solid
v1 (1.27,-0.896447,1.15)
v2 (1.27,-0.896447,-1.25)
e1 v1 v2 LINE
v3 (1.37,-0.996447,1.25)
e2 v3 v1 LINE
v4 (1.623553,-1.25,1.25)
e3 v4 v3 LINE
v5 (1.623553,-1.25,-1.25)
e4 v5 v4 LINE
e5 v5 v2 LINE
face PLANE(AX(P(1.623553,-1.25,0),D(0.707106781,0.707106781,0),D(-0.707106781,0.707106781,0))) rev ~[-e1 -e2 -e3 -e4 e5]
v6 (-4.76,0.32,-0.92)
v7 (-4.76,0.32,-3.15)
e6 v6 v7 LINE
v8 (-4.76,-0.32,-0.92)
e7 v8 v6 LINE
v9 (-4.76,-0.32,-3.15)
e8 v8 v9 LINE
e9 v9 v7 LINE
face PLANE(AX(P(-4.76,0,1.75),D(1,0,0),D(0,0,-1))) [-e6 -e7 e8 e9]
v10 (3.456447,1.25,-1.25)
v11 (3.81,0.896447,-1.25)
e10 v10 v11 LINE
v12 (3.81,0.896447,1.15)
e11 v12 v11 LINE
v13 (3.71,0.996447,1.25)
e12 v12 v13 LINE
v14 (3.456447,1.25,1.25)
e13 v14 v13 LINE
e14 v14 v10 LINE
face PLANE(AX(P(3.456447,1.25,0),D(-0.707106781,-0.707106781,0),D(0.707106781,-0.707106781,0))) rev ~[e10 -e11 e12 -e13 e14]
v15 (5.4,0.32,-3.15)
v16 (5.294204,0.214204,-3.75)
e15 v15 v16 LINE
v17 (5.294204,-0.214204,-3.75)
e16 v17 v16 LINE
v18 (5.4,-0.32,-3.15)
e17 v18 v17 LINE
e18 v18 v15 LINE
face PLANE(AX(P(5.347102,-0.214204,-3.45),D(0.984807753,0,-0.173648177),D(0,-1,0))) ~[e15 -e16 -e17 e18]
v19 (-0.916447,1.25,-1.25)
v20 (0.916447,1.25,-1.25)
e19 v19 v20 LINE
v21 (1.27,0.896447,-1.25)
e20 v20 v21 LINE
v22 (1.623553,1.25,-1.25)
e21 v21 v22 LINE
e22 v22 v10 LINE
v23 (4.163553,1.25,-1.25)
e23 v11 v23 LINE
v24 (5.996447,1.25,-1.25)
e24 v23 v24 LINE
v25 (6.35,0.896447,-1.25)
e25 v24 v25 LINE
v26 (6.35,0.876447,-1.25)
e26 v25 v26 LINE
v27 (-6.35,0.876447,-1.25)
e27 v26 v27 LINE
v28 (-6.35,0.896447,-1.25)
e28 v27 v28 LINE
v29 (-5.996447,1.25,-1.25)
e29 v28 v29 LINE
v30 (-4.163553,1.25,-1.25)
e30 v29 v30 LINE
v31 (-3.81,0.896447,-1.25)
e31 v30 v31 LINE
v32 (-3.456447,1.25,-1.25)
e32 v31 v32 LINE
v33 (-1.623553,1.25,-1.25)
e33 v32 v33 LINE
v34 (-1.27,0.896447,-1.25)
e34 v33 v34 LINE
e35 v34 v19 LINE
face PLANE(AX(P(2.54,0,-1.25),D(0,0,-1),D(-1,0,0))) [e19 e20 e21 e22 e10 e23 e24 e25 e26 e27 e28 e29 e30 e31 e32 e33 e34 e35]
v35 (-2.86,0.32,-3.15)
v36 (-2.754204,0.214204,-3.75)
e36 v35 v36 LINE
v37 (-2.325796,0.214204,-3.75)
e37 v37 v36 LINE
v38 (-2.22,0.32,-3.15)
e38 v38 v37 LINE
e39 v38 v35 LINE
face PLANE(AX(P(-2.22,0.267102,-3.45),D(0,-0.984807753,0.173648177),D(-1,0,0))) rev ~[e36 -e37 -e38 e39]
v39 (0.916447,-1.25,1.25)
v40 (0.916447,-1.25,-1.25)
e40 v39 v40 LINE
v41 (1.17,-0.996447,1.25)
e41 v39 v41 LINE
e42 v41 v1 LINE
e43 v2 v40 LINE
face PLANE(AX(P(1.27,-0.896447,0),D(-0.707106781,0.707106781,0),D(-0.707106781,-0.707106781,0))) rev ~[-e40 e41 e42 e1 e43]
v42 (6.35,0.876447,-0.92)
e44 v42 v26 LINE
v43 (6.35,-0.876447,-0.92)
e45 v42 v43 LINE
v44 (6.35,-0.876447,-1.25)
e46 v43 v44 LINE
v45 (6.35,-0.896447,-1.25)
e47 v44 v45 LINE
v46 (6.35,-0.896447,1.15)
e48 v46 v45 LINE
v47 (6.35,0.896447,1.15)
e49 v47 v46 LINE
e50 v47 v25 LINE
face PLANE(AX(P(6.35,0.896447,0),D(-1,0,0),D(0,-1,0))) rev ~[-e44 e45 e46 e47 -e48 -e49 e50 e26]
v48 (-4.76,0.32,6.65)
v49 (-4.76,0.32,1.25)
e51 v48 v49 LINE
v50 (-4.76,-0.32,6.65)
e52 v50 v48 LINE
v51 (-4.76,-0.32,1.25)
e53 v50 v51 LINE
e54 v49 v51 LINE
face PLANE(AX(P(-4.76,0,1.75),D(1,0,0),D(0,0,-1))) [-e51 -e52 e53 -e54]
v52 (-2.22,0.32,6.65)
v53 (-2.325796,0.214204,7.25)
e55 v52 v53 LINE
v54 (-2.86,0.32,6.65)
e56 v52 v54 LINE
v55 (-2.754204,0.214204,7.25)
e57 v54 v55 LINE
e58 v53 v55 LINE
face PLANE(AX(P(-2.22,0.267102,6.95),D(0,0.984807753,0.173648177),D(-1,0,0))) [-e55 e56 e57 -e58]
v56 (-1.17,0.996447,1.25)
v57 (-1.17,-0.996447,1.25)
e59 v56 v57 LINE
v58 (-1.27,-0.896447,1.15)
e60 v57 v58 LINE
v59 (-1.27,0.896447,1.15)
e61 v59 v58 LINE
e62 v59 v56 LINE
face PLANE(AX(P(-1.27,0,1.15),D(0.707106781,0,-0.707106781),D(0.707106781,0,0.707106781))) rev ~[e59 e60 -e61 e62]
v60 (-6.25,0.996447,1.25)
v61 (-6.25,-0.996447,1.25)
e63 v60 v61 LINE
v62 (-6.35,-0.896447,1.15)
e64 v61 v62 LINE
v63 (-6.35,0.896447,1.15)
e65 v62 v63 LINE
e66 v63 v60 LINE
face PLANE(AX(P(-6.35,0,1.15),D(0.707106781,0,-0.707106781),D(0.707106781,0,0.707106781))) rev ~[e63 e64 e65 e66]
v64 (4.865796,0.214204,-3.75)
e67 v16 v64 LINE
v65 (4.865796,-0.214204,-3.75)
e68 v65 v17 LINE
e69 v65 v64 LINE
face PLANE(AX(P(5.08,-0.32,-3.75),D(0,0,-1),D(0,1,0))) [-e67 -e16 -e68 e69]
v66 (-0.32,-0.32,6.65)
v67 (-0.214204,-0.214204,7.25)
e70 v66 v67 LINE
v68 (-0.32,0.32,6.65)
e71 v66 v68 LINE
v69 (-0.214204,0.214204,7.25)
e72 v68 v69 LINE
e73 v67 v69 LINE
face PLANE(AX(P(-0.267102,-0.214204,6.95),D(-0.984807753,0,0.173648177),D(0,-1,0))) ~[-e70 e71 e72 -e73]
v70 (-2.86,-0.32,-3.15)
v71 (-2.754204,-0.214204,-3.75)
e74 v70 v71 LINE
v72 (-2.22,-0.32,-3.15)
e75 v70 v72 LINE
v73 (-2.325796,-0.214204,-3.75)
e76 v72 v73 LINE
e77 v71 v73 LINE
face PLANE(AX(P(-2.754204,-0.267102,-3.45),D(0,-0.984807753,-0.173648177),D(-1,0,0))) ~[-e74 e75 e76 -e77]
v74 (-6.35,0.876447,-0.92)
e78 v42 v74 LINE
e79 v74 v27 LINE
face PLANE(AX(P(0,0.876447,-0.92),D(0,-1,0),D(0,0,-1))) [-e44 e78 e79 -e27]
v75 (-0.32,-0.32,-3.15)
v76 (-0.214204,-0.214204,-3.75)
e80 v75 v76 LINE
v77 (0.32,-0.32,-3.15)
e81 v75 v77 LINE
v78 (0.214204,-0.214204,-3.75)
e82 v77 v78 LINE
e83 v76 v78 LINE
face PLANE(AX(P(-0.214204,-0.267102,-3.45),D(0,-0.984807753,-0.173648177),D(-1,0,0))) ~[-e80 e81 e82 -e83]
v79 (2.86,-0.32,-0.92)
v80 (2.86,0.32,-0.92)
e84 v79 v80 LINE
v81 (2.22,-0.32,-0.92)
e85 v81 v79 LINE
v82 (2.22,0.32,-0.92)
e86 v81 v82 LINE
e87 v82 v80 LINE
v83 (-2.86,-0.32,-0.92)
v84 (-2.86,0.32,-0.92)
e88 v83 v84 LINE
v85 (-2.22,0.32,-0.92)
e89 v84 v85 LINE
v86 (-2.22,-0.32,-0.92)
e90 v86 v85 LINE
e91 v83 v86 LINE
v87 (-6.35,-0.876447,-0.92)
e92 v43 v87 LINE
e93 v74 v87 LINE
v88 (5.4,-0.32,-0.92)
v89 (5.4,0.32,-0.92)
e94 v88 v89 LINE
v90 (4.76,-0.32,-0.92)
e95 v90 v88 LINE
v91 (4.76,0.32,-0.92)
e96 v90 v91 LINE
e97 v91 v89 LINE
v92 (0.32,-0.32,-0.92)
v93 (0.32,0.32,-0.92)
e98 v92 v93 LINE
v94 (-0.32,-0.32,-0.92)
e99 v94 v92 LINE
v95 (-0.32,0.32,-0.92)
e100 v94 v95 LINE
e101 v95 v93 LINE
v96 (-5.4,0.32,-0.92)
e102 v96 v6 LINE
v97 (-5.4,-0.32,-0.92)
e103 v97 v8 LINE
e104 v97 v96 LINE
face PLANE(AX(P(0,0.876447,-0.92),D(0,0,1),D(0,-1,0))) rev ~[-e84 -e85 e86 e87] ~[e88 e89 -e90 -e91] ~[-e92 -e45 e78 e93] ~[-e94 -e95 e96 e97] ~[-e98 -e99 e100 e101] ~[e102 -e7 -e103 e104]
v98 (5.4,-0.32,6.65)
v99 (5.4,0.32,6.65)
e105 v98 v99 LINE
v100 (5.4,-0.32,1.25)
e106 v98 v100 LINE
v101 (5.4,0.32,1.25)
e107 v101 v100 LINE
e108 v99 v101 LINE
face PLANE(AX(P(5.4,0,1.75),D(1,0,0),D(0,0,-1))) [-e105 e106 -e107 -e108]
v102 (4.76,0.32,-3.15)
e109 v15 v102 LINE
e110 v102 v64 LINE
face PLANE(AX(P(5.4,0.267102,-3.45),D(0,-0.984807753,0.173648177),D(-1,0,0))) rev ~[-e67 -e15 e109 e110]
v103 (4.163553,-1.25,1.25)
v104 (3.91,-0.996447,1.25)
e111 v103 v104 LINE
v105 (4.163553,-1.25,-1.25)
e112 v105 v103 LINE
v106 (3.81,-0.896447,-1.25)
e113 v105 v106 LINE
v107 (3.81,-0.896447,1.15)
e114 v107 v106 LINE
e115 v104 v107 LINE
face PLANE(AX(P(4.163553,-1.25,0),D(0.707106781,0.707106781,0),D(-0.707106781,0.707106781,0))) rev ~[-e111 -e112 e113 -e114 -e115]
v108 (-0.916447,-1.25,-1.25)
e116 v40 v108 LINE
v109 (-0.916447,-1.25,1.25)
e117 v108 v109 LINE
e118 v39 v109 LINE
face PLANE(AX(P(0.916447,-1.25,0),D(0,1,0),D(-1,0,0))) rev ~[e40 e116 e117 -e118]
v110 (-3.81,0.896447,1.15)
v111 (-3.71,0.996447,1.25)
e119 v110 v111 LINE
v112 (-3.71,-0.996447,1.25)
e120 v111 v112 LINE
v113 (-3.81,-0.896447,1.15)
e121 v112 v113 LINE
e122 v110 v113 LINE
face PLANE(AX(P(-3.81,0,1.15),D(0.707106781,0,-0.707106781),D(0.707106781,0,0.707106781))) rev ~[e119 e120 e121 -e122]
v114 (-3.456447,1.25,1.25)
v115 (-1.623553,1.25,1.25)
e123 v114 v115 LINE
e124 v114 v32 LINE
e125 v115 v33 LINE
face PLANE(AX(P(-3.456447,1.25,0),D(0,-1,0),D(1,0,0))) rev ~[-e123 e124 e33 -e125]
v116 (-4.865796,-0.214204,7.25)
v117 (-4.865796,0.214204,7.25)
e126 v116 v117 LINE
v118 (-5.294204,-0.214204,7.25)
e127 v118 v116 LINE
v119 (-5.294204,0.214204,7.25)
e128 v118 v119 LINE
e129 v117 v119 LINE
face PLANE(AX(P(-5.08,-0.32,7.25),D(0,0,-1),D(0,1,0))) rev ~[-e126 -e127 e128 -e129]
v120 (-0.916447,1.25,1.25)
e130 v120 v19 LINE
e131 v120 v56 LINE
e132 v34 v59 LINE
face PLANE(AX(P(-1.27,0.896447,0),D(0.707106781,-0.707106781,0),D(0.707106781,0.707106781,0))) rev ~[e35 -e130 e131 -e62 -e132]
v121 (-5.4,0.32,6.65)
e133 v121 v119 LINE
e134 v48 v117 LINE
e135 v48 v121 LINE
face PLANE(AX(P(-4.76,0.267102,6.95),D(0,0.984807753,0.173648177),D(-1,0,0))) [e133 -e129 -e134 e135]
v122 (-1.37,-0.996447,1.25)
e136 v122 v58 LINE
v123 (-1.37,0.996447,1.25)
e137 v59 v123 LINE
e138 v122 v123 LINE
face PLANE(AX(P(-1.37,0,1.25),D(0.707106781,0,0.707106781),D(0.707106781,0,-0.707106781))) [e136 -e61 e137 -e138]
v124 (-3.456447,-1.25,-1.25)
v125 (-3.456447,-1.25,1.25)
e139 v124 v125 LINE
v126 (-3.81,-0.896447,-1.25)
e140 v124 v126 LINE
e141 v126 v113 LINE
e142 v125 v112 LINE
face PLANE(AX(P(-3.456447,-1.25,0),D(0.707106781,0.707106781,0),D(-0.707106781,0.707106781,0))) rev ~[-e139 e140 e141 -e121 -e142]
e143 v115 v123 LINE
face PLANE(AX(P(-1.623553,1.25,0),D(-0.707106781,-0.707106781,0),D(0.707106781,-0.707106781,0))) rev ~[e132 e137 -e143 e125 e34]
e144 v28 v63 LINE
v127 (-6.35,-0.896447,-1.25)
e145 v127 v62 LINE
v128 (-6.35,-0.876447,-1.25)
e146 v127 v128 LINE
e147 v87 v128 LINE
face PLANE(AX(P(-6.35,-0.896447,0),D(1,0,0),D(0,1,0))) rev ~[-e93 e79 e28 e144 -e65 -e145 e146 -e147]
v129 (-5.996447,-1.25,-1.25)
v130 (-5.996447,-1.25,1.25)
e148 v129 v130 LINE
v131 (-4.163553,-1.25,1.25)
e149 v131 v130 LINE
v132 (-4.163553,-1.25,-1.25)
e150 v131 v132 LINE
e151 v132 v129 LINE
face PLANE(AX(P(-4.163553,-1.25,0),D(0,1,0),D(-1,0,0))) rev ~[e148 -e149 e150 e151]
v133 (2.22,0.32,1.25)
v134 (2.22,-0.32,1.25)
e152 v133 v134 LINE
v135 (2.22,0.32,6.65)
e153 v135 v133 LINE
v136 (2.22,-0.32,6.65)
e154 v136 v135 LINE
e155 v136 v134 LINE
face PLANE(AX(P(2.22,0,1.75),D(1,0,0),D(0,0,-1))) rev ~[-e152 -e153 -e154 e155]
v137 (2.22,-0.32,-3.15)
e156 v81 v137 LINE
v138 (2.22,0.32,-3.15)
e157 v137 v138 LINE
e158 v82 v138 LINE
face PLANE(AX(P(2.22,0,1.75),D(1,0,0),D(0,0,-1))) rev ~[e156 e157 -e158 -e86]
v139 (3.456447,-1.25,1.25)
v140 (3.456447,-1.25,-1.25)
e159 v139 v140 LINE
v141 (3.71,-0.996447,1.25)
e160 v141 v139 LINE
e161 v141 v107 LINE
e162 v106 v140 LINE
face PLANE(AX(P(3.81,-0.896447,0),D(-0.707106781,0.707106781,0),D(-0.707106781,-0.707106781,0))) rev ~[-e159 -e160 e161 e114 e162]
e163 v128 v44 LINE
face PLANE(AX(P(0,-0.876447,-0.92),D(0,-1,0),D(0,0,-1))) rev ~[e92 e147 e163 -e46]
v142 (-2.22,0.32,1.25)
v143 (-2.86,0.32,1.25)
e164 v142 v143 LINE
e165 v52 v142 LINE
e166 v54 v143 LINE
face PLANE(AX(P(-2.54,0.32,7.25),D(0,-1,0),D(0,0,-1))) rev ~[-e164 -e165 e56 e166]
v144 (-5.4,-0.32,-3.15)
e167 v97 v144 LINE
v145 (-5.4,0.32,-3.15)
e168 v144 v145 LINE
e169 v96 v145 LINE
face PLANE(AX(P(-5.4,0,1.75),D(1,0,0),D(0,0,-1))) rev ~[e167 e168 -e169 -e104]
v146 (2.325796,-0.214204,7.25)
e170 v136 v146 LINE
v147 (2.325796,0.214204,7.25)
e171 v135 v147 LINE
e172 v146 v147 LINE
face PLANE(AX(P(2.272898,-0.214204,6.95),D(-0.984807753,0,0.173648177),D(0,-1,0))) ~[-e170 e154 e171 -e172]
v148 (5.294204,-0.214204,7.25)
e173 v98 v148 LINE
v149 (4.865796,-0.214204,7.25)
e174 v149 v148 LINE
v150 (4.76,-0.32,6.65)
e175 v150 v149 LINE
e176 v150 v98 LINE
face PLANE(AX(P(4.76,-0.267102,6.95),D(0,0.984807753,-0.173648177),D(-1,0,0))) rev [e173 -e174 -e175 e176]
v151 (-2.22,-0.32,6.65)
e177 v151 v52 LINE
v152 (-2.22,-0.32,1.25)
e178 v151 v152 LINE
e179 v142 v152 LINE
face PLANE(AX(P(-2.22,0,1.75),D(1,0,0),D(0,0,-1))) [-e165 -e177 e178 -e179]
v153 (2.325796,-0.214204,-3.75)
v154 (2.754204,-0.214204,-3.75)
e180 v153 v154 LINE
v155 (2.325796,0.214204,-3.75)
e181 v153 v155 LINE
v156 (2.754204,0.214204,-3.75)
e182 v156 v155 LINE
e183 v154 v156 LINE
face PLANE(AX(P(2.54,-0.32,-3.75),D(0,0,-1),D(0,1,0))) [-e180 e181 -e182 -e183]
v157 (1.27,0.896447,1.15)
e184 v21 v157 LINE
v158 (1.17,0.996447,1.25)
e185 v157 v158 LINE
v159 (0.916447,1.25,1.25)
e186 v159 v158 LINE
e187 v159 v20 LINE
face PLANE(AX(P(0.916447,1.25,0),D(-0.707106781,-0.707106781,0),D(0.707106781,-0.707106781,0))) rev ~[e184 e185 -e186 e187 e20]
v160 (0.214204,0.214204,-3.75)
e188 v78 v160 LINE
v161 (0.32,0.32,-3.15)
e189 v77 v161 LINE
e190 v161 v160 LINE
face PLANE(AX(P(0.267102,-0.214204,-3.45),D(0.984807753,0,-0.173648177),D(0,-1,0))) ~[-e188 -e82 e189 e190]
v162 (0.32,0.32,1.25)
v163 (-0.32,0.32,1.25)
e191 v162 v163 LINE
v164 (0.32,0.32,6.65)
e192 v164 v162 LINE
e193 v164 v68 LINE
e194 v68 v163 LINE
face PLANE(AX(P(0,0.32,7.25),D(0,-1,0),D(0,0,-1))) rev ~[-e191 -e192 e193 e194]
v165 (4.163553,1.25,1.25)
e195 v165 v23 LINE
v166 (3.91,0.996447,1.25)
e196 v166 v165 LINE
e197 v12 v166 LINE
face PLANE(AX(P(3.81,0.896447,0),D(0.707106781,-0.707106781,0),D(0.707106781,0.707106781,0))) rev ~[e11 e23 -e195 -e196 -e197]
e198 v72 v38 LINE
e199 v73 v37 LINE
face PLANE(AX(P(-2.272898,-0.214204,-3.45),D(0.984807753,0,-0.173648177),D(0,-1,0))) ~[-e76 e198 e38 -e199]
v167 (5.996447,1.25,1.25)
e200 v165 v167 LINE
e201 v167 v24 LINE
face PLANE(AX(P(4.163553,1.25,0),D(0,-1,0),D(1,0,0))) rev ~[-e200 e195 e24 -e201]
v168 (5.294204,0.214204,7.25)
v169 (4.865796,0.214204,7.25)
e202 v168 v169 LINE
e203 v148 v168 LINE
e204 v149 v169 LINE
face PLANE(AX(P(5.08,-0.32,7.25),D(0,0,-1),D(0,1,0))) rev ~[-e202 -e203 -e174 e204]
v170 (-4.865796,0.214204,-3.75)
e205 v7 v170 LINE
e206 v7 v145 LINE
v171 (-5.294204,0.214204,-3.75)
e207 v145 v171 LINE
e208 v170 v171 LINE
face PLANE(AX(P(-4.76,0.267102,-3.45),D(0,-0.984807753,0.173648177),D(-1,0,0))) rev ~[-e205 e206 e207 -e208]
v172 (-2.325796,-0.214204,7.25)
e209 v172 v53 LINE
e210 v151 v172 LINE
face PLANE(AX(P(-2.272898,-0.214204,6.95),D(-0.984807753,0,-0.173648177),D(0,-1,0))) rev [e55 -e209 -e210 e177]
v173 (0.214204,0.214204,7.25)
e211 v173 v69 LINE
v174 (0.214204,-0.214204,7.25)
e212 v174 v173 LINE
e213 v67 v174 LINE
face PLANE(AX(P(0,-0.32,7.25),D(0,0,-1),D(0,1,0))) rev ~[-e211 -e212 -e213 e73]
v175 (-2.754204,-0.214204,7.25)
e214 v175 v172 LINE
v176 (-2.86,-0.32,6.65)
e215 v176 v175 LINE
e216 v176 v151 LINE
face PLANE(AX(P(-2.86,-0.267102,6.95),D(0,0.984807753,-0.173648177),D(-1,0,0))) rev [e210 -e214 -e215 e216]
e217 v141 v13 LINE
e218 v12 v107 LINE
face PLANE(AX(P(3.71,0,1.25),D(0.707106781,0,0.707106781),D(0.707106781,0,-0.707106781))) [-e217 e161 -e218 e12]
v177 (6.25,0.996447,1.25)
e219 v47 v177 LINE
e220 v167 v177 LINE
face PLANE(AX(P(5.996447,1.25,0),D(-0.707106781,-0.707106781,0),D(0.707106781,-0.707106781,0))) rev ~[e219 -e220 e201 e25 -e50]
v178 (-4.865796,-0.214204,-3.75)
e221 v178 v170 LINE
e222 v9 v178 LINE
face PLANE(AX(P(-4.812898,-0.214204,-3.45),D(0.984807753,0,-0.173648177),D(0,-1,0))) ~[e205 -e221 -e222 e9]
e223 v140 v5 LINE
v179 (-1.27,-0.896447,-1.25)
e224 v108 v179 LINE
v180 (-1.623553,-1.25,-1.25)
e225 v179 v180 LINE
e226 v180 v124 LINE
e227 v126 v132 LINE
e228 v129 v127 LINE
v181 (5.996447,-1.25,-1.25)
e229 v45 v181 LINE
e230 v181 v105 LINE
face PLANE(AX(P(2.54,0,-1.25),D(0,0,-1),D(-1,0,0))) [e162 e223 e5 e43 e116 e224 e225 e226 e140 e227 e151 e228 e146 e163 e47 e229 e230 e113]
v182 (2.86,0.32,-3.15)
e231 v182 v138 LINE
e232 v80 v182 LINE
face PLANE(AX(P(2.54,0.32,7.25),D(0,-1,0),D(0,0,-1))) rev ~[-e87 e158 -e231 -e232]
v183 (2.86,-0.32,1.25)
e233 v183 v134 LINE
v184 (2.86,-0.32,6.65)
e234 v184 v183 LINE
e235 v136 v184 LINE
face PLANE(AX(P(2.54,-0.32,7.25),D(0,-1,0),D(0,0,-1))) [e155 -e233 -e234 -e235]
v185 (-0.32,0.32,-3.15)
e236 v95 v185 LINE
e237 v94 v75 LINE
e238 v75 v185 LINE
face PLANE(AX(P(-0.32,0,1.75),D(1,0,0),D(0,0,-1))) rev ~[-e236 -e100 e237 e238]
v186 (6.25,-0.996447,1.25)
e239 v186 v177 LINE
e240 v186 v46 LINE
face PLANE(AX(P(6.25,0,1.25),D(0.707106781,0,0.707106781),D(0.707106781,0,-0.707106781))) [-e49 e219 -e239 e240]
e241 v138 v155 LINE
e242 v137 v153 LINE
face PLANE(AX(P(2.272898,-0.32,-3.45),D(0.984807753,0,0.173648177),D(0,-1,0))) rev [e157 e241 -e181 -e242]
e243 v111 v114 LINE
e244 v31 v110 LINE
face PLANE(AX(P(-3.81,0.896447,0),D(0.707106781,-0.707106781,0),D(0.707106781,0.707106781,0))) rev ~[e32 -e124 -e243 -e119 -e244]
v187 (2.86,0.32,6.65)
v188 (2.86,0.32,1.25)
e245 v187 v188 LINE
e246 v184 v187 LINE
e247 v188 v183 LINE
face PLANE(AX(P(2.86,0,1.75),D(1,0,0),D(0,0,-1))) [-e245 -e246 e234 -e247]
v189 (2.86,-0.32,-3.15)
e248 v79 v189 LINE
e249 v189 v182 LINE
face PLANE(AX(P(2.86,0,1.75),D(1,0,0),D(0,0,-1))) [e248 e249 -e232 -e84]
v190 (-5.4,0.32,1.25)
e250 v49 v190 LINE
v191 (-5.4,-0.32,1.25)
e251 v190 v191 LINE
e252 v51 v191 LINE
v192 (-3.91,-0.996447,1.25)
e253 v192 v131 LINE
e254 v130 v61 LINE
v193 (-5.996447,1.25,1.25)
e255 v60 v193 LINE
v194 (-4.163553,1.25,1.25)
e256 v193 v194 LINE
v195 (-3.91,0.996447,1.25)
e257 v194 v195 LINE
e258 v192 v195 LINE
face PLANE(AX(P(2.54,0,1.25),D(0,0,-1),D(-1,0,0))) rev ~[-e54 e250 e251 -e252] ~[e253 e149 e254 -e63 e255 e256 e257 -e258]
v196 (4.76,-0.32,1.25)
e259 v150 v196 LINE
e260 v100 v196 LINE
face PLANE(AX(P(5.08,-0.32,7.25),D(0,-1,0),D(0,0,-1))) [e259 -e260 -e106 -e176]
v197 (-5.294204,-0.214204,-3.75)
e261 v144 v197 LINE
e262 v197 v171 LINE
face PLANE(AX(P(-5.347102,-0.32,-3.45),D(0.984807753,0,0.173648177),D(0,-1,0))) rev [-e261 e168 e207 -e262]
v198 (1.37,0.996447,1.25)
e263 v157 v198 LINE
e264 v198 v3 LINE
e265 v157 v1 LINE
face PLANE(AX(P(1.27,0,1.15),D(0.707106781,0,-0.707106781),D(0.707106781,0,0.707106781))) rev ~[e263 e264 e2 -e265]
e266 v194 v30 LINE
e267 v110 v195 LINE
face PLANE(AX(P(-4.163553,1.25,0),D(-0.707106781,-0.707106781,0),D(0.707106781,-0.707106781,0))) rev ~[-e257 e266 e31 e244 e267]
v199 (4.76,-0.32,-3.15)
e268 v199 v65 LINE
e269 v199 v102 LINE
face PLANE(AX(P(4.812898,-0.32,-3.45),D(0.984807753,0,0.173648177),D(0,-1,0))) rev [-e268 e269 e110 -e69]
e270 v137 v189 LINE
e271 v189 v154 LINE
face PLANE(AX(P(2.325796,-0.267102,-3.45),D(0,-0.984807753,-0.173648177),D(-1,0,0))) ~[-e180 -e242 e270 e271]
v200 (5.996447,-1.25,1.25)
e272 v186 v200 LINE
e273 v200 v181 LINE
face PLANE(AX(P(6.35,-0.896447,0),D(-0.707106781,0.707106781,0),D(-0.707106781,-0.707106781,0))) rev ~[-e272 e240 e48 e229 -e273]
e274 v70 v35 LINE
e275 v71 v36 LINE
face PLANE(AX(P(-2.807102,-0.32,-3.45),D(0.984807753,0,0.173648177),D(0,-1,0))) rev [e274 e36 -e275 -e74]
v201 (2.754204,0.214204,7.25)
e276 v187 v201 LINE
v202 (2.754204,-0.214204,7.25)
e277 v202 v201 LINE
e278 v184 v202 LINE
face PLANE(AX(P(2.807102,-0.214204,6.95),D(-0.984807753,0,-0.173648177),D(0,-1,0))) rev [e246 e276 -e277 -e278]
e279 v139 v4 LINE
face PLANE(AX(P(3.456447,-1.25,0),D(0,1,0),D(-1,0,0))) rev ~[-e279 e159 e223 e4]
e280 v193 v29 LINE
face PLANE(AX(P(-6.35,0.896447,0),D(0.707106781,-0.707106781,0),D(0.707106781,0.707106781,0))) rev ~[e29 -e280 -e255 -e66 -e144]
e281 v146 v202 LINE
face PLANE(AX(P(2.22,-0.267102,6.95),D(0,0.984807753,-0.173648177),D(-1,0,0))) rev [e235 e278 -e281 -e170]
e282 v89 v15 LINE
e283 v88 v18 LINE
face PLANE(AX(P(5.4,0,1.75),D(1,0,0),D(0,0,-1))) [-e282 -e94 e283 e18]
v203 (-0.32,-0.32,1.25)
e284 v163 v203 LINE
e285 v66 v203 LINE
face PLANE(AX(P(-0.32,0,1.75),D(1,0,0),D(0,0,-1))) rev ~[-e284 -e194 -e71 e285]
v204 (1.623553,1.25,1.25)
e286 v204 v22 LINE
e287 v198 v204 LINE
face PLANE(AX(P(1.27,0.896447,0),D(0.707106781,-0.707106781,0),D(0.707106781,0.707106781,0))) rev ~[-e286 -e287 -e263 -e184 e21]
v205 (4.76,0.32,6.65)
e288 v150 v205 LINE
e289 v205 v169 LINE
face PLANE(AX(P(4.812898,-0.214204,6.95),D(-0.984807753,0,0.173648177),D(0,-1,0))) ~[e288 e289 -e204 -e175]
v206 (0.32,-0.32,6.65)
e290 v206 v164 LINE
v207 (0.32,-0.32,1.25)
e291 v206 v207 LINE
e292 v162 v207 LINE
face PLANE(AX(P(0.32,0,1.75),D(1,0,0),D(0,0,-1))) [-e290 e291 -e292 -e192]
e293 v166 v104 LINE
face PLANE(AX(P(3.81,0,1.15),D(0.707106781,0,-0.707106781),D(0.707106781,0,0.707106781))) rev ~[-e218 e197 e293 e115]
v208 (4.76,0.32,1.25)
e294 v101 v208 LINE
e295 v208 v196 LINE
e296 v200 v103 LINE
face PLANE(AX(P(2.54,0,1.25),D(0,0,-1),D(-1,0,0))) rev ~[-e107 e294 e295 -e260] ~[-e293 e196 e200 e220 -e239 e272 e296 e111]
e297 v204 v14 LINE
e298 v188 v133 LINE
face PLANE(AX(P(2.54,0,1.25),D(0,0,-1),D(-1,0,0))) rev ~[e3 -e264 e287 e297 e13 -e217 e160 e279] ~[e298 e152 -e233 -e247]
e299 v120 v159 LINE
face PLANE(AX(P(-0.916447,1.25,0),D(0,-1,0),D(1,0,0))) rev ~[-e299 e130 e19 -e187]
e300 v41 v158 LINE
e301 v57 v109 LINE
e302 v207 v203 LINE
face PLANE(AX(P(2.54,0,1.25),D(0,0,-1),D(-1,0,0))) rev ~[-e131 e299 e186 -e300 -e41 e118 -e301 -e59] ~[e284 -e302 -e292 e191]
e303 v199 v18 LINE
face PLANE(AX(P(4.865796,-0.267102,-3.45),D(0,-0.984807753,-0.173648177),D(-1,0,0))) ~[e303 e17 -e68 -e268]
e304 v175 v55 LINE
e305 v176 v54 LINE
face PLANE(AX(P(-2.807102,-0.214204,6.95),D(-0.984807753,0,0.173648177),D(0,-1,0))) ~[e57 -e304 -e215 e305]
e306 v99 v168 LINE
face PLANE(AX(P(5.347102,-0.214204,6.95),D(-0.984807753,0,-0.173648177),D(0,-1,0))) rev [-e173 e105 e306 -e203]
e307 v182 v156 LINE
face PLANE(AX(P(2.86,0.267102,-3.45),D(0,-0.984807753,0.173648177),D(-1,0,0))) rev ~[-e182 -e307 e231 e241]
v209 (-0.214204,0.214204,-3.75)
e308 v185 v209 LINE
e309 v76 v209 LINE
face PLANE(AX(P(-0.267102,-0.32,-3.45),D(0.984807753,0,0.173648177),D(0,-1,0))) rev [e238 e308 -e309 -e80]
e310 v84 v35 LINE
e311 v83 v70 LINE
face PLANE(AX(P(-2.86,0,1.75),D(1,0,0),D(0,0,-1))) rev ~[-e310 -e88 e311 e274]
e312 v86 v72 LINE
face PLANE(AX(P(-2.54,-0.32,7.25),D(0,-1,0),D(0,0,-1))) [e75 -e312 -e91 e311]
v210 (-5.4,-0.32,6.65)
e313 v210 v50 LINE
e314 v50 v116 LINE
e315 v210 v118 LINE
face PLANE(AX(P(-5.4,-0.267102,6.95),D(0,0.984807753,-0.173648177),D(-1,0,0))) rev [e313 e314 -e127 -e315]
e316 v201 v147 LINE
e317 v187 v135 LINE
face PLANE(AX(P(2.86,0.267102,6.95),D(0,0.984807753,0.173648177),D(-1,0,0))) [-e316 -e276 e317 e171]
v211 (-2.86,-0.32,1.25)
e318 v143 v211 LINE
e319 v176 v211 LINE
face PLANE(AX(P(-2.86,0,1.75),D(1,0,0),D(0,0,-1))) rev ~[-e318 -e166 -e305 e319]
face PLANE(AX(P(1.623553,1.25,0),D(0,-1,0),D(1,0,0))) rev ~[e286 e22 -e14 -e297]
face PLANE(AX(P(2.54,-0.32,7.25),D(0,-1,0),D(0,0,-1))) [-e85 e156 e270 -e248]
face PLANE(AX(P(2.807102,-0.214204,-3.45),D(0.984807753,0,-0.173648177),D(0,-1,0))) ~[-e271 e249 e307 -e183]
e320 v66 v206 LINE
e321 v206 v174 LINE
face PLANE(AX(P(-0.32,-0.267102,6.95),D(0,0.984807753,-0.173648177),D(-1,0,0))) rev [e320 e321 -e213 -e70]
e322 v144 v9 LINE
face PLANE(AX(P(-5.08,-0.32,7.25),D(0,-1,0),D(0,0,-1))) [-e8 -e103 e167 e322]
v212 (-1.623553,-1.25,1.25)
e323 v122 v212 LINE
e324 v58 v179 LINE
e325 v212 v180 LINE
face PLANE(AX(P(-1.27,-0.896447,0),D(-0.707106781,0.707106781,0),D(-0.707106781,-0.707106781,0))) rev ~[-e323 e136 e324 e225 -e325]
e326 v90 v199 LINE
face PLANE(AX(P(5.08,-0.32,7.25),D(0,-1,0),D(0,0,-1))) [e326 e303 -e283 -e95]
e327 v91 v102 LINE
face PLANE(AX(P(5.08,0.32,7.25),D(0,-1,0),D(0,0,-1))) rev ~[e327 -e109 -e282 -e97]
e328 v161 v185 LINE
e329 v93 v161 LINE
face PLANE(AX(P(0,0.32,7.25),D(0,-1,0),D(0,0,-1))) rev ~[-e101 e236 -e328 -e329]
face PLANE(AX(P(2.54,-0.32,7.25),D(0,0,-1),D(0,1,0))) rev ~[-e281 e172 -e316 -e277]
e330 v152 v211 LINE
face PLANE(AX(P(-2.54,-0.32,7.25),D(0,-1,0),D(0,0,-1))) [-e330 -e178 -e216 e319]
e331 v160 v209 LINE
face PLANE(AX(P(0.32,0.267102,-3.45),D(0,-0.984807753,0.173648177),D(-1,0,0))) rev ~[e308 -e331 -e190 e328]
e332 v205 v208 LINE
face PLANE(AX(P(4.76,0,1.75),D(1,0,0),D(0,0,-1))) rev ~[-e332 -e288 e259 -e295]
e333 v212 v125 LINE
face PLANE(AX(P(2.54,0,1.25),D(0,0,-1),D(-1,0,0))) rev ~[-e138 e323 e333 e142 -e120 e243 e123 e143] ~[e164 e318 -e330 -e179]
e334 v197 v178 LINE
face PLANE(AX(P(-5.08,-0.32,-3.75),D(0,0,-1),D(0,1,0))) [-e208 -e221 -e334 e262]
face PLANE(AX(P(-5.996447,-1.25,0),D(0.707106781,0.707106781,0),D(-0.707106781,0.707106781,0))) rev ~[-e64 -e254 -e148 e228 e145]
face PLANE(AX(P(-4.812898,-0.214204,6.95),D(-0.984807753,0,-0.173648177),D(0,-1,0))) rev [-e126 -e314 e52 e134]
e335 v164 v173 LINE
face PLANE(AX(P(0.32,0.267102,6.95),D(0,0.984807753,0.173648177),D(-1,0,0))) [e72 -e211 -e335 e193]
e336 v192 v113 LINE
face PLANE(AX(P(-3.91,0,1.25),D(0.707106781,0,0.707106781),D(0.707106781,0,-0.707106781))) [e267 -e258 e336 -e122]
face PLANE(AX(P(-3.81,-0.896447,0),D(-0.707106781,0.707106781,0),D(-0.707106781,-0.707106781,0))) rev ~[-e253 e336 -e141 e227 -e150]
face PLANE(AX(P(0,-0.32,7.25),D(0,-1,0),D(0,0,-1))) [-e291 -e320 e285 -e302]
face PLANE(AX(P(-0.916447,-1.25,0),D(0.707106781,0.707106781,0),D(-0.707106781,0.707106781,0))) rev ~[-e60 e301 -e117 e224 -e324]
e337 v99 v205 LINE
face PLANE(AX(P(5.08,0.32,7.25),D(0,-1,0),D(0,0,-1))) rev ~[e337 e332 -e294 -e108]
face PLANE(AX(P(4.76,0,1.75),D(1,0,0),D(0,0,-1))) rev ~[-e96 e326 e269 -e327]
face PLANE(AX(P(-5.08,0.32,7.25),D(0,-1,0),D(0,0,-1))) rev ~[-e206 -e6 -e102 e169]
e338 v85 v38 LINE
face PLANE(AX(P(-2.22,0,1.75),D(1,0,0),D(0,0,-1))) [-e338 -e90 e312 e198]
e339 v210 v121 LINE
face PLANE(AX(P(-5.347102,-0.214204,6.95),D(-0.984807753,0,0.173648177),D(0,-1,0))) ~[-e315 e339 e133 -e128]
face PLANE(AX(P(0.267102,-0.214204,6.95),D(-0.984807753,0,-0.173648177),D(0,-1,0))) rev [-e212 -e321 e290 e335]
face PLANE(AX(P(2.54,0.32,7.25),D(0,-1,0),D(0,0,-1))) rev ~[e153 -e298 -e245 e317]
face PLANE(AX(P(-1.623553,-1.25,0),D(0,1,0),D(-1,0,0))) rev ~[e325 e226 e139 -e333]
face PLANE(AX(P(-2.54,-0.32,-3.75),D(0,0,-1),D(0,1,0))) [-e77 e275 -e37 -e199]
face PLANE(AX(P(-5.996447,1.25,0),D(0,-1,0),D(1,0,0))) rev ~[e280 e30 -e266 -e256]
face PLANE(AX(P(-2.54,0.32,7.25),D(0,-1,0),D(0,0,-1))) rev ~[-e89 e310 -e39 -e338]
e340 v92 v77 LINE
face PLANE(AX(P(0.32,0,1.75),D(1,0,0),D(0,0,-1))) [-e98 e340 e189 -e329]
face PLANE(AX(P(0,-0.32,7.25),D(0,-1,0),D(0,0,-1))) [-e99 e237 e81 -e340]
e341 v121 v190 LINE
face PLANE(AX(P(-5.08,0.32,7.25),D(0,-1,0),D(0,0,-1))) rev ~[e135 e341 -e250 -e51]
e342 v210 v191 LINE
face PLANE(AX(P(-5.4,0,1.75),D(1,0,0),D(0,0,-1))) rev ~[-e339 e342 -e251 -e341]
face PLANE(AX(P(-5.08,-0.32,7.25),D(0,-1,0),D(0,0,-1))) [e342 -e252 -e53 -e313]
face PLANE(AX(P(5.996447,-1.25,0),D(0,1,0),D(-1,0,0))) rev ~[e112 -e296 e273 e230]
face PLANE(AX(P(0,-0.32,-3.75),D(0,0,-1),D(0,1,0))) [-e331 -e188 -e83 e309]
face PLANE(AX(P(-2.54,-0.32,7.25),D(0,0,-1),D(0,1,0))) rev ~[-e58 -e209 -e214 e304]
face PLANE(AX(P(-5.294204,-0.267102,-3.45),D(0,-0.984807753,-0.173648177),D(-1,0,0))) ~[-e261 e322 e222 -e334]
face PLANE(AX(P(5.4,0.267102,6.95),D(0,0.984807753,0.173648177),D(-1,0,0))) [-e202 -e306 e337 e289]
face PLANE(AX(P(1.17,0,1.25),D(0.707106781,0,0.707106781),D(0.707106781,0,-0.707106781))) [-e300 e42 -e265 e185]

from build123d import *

# Parameters (mm, degrees)
EXTRUDE1_DEPTH          = 1.25
CUT_EXTRUDE3_DEPTH      = 2.25
LPATTERN4_COUNT         = 3
LPATTERN4_PITCH         = 2.54
LPATTERN4_COUNT_DIR2    = 3
LPATTERN4_PITCH_DIR2    = 2.54
SKETCH2_W               = 1.752893218
SKETCH2_H               = 0.33
CUT_EXTRUDE1_DEPTH      = 7.35
CUT_EXTRUDE1_DEPTH_BACK = 7.35
SKETCH3_W               = 11
SKETCH3_H               = 0.64
EXTRUDE_THIN1_DEPTH     = 0.32
LPATTERN5_COUNT         = 3
LPATTERN5_PITCH         = 2.54
LPATTERN5_COL_COUNT     = 3
LPATTERN5_COL_PITCH     = 2.54
CHAMFER2_SIZE           = 0.6
CHAMFER2_SIZE2          = 0.105796188
CHAMFER2_PART_2_SIZE    = 0.6
CHAMFER2_PART_2_SIZE2   = 0.105796188
CHAMFER2_PART_3_SIZE    = 0.6
CHAMFER2_PART_3_SIZE2   = 0.105796188
CHAMFER2_PART_4_SIZE    = 0.6
CHAMFER2_PART_4_SIZE2   = 0.105796188
CHAMFER2_PART_5_SIZE    = 0.6
CHAMFER2_PART_5_SIZE2   = 0.105796188
CHAMFER2_PART_6_SIZE    = 0.6
CHAMFER2_PART_6_SIZE2   = 0.105796188
CHAMFER2_PART_7_SIZE    = 0.6
CHAMFER2_PART_7_SIZE2   = 0.105796188
CHAMFER2_PART_8_SIZE    = 0.6
CHAMFER2_PART_8_SIZE2   = 0.105796188
CHAMFER2_PART_9_SIZE    = 0.6
CHAMFER2_PART_9_SIZE2   = 0.105796188
CHAMFER2_PART_10_SIZE   = 0.6
CHAMFER2_PART_10_SIZE2  = 0.105796188
CHAMFER2_PART_11_SIZE   = 0.6
CHAMFER2_PART_11_SIZE2  = 0.105796188
CHAMFER2_PART_12_SIZE   = 0.6
CHAMFER2_PART_12_SIZE2  = 0.105796188
CHAMFER2_PART_13_SIZE   = 0.6
CHAMFER2_PART_13_SIZE2  = 0.105796188
CHAMFER2_PART_14_SIZE   = 0.6
CHAMFER2_PART_14_SIZE2  = 0.105796188
CHAMFER2_PART_15_SIZE   = 0.6
CHAMFER2_PART_15_SIZE2  = 0.105796188
CHAMFER2_PART_16_SIZE   = 0.6
CHAMFER2_PART_16_SIZE2  = 0.105796188
CHAMFER2_PART_17_SIZE   = 0.6
CHAMFER2_PART_17_SIZE2  = 0.105796188
CHAMFER2_PART_18_SIZE   = 0.6
CHAMFER2_PART_18_SIZE2  = 0.105796188
CHAMFER2_PART_19_SIZE   = 0.6
CHAMFER2_PART_19_SIZE2  = 0.105796188
CHAMFER2_PART_20_SIZE   = 0.6
CHAMFER2_PART_20_SIZE2  = 0.105796188
CHAMFER2_PART_21_SIZE   = 0.6
CHAMFER2_PART_21_SIZE2  = 0.105796188
CHAMFER2_PART_22_SIZE   = 0.6
CHAMFER2_PART_22_SIZE2  = 0.105796188
CHAMFER2_PART_23_SIZE   = 0.6
CHAMFER2_PART_23_SIZE2  = 0.105796188
CHAMFER2_PART_24_SIZE   = 0.6
CHAMFER2_PART_24_SIZE2  = 0.105796188
CHAMFER2_PART_25_SIZE   = 0.6
CHAMFER2_PART_25_SIZE2  = 0.105796188
CHAMFER2_PART_26_SIZE   = 0.6
CHAMFER2_PART_26_SIZE2  = 0.105796188
CHAMFER2_PART_27_SIZE   = 0.6
CHAMFER2_PART_27_SIZE2  = 0.105796188
CHAMFER2_PART_28_SIZE   = 0.6
CHAMFER2_PART_28_SIZE2  = 0.105796188
CHAMFER2_PART_29_SIZE   = 0.6
CHAMFER2_PART_29_SIZE2  = 0.105796188
CHAMFER2_PART_30_SIZE   = 0.6
CHAMFER2_PART_30_SIZE2  = 0.105796188
CHAMFER2_PART_31_SIZE   = 0.6
CHAMFER2_PART_31_SIZE2  = 0.105796188
CHAMFER2_PART_32_SIZE   = 0.6
CHAMFER2_PART_32_SIZE2  = 0.105796188
CHAMFER2_PART_33_SIZE   = 0.6
CHAMFER2_PART_33_SIZE2  = 0.105796188
CHAMFER2_PART_34_SIZE   = 0.6
CHAMFER2_PART_34_SIZE2  = 0.105796188
CHAMFER2_PART_35_SIZE   = 0.6
CHAMFER2_PART_35_SIZE2  = 0.105796188
CHAMFER2_PART_36_SIZE   = 0.6
CHAMFER2_PART_36_SIZE2  = 0.105796188
CHAMFER2_PART_37_SIZE   = 0.6
CHAMFER2_PART_37_SIZE2  = 0.105796188
CHAMFER2_PART_38_SIZE   = 0.6
CHAMFER2_PART_38_SIZE2  = 0.105796188
CHAMFER2_PART_39_SIZE   = 0.6
CHAMFER2_PART_39_SIZE2  = 0.105796188
CHAMFER2_PART_40_SIZE   = 0.6
CHAMFER2_PART_40_SIZE2  = 0.105796188


with BuildPart() as part:
    # Sketch1 → Extrude1 (new body, symmetric)
    with BuildSketch(Plane.XY):
        Polygon((-1.27, 0.896446609), (-0.916446609, 1.25), (0.916446609, 1.25), (1.27, 0.896446609), (1.27, -0.896446609), (0.916446609, -1.25), (-0.916446609, -1.25), (-1.27, -0.896446609), align=None)
    extrude1 = extrude(amount=EXTRUDE1_DEPTH, both=True)

    # Sketch4 → Cut-Extrude3 (cut, symmetric)
    with BuildSketch(Plane(origin=(0, 0, 0), x_dir=(1, 0, 0), z_dir=(0, 1, 0))):
        Polygon((-1.27, -1.15), (-1.17, -1.25), (-1.27, -1.25), align=None)
        Polygon((1.17, -1.25), (1.27, -1.15), (1.27, -1.25), align=None)
    cut_extrude3 = extrude(amount=CUT_EXTRUDE3_DEPTH, both=True, mode=Mode.SUBTRACT)

    # LPattern4: Extrude1, Cut-Extrude3 3 × 3
    with Locations(*[Vector(-1, 0, 0) * (i * LPATTERN4_PITCH) + Vector(1, 0, 0) * (j * LPATTERN4_PITCH_DIR2) for i in range(LPATTERN4_COUNT) for j in range(LPATTERN4_COUNT_DIR2) if (i, j) != (0, 0)]):
        add(extrude1)
        add(cut_extrude3, mode=Mode.SUBTRACT)

    # Sketch2 → Cut-Extrude1 (cut, two sides)
    with BuildSketch(Plane(origin=(0, 0, 0), x_dir=(0, -1, 0), z_dir=(1, 0, 0))) as cut_extrude1_sk:
        with Locations((0, 1.085)):
            Rectangle(SKETCH2_W, SKETCH2_H)
    extrude(amount=CUT_EXTRUDE1_DEPTH, mode=Mode.SUBTRACT)
    extrude(cut_extrude1_sk.sketch, amount=-CUT_EXTRUDE1_DEPTH_BACK, mode=Mode.SUBTRACT)

    # Sketch3 → Extrude-Thin1 (add, symmetric)
    with BuildSketch(Plane(origin=(0, 0, 0), x_dir=(0, 0, -1), z_dir=(1, 0, 0))):
        with Locations((-1.75, 0)):
            Rectangle(SKETCH3_W, SKETCH3_H)
    extrude_thin1 = extrude(amount=EXTRUDE_THIN1_DEPTH, both=True)

    # LPattern5: Extrude-Thin1 ×3
    with Locations(*[(i * LPATTERN5_PITCH, 0, 0) for i in range(1, LPATTERN5_COUNT)]):
        add(extrude_thin1)

    # LPattern5 col: Extrude-Thin1 ×3
    with Locations(*[(-i * LPATTERN5_COL_PITCH, 0, 0) for i in range(1, LPATTERN5_COL_COUNT)]):
        add(extrude_thin1)

    # Chamfer2
    chamfer2_edges = [part.edges().sort_by_distance(p)[0] for p in [
        (0, -0.32, 7.25),
    ]]
    chamfer2_side = [part.faces().sort_by_distance(p)[0] for p in [
        (0, -0.32, 4.25),
    ]]
    chamfer(chamfer2_edges, length=CHAMFER2_SIZE, length2=CHAMFER2_SIZE2, reference=chamfer2_side[0])

    # Chamfer2 part 2
    chamfer2_part_2_edges = [part.edges().sort_by_distance(p)[0] for p in [
        (0, 0.32, -3.75),
    ]]
    chamfer2_part_2_side = [part.faces().sort_by_distance(p)[0] for p in [
        (0, 0.32, -2.335),
    ]]
    chamfer(chamfer2_part_2_edges, length=CHAMFER2_PART_2_SIZE, length2=CHAMFER2_PART_2_SIZE2, reference=chamfer2_part_2_side[0])

    # Chamfer2 part 3
    chamfer2_part_3_edges = [part.edges().sort_by_distance(p)[0] for p in [
        (-0.32, 0, 7.25),
    ]]
    chamfer2_part_3_side = [part.faces().sort_by_distance(p)[0] for p in [
        (-0.32, 0, 4.25),
    ]]
    chamfer(chamfer2_part_3_edges, length=CHAMFER2_PART_3_SIZE, length2=CHAMFER2_PART_3_SIZE2, reference=chamfer2_part_3_side[0])

    # Chamfer2 part 4
    chamfer2_part_4_edges = [part.edges().sort_by_distance(p)[0] for p in [
        (-0.32, 0, -3.75),
    ]]
    chamfer2_part_4_side = [part.faces().sort_by_distance(p)[0] for p in [
        (-0.32, 0, -2.335),
    ]]
    chamfer(chamfer2_part_4_edges, length=CHAMFER2_PART_4_SIZE, length2=CHAMFER2_PART_4_SIZE2, reference=chamfer2_part_4_side[0])

    # Chamfer2 part 5
    chamfer2_part_5_edges = [part.edges().sort_by_distance(p)[0] for p in [
        (0, -0.32, -3.75),
    ]]
    chamfer2_part_5_side = [part.faces().sort_by_distance(p)[0] for p in [
        (0, -0.32, -2.335),
    ]]
    chamfer(chamfer2_part_5_edges, length=CHAMFER2_PART_5_SIZE, length2=CHAMFER2_PART_5_SIZE2, reference=chamfer2_part_5_side[0])

    # Chamfer2 part 6
    chamfer2_part_6_edges = [part.edges().sort_by_distance(p)[0] for p in [
        (0.32, 0, -3.75),
    ]]
    chamfer2_part_6_side = [part.faces().sort_by_distance(p)[0] for p in [
        (0.32, 0, -2.335),
    ]]
    chamfer(chamfer2_part_6_edges, length=CHAMFER2_PART_6_SIZE, length2=CHAMFER2_PART_6_SIZE2, reference=chamfer2_part_6_side[0])

    # Chamfer2 part 7
    chamfer2_part_7_edges = [part.edges().sort_by_distance(p)[0] for p in [
        (0, 0.32, 7.25),
    ]]
    chamfer2_part_7_side = [part.faces().sort_by_distance(p)[0] for p in [
        (0, 0.32, 4.25),
    ]]
    chamfer(chamfer2_part_7_edges, length=CHAMFER2_PART_7_SIZE, length2=CHAMFER2_PART_7_SIZE2, reference=chamfer2_part_7_side[0])

    # Chamfer2 part 8
    chamfer2_part_8_edges = [part.edges().sort_by_distance(p)[0] for p in [
        (0.32, 0, 7.25),
    ]]
    chamfer2_part_8_side = [part.faces().sort_by_distance(p)[0] for p in [
        (0.32, 0, 4.25),
    ]]
    chamfer(chamfer2_part_8_edges, length=CHAMFER2_PART_8_SIZE, length2=CHAMFER2_PART_8_SIZE2, reference=chamfer2_part_8_side[0])

    # Chamfer2 part 9
    chamfer2_part_9_edges = [part.edges().sort_by_distance(p)[0] for p in [
        (-2.54, -0.32, 7.25),
    ]]
    chamfer2_part_9_side = [part.faces().sort_by_distance(p)[0] for p in [
        (-2.54, -0.32, 4.25),
    ]]
    chamfer(chamfer2_part_9_edges, length=CHAMFER2_PART_9_SIZE, length2=CHAMFER2_PART_9_SIZE2, reference=chamfer2_part_9_side[0])

    # Chamfer2 part 10
    chamfer2_part_10_edges = [part.edges().sort_by_distance(p)[0] for p in [
        (-2.54, 0.32, -3.75),
    ]]
    chamfer2_part_10_side = [part.faces().sort_by_distance(p)[0] for p in [
        (-2.54, 0.32, -2.335),
    ]]
    chamfer(chamfer2_part_10_edges, length=CHAMFER2_PART_10_SIZE, length2=CHAMFER2_PART_10_SIZE2, reference=chamfer2_part_10_side[0])

    # Chamfer2 part 11
    chamfer2_part_11_edges = [part.edges().sort_by_distance(p)[0] for p in [
        (-2.86, 0, -3.75),
    ]]
    chamfer2_part_11_side = [part.faces().sort_by_distance(p)[0] for p in [
        (-2.86, 0, -2.335),
    ]]
    chamfer(chamfer2_part_11_edges, length=CHAMFER2_PART_11_SIZE, length2=CHAMFER2_PART_11_SIZE2, reference=chamfer2_part_11_side[0])

    # Chamfer2 part 12
    chamfer2_part_12_edges = [part.edges().sort_by_distance(p)[0] for p in [
        (-2.86, 0, 7.25),
    ]]
    chamfer2_part_12_side = [part.faces().sort_by_distance(p)[0] for p in [
        (-2.86, 0, 4.25),
    ]]
    chamfer(chamfer2_part_12_edges, length=CHAMFER2_PART_12_SIZE, length2=CHAMFER2_PART_12_SIZE2, reference=chamfer2_part_12_side[0])

    # Chamfer2 part 13
    chamfer2_part_13_edges = [part.edges().sort_by_distance(p)[0] for p in [
        (-2.54, -0.32, -3.75),
    ]]
    chamfer2_part_13_side = [part.faces().sort_by_distance(p)[0] for p in [
        (-2.54, -0.32, -2.335),
    ]]
    chamfer(chamfer2_part_13_edges, length=CHAMFER2_PART_13_SIZE, length2=CHAMFER2_PART_13_SIZE2, reference=chamfer2_part_13_side[0])

    # Chamfer2 part 14
    chamfer2_part_14_edges = [part.edges().sort_by_distance(p)[0] for p in [
        (-2.22, 0, -3.75),
    ]]
    chamfer2_part_14_side = [part.faces().sort_by_distance(p)[0] for p in [
        (-2.22, 0, -2.335),
    ]]
    chamfer(chamfer2_part_14_edges, length=CHAMFER2_PART_14_SIZE, length2=CHAMFER2_PART_14_SIZE2, reference=chamfer2_part_14_side[0])

    # Chamfer2 part 15
    chamfer2_part_15_edges = [part.edges().sort_by_distance(p)[0] for p in [
        (-2.54, 0.32, 7.25),
    ]]
    chamfer2_part_15_side = [part.faces().sort_by_distance(p)[0] for p in [
        (-2.54, 0.32, 4.25),
    ]]
    chamfer(chamfer2_part_15_edges, length=CHAMFER2_PART_15_SIZE, length2=CHAMFER2_PART_15_SIZE2, reference=chamfer2_part_15_side[0])

    # Chamfer2 part 16
    chamfer2_part_16_edges = [part.edges().sort_by_distance(p)[0] for p in [
        (-2.22, 0, 7.25),
    ]]
    chamfer2_part_16_side = [part.faces().sort_by_distance(p)[0] for p in [
        (-2.22, 0, 4.25),
    ]]
    chamfer(chamfer2_part_16_edges, length=CHAMFER2_PART_16_SIZE, length2=CHAMFER2_PART_16_SIZE2, reference=chamfer2_part_16_side[0])

    # Chamfer2 part 17
    chamfer2_part_17_edges = [part.edges().sort_by_distance(p)[0] for p in [
        (-5.08, -0.32, 7.25),
    ]]
    chamfer2_part_17_side = [part.faces().sort_by_distance(p)[0] for p in [
        (-5.08, -0.32, 4.25),
    ]]
    chamfer(chamfer2_part_17_edges, length=CHAMFER2_PART_17_SIZE, length2=CHAMFER2_PART_17_SIZE2, reference=chamfer2_part_17_side[0])

    # Chamfer2 part 18
    chamfer2_part_18_edges = [part.edges().sort_by_distance(p)[0] for p in [
        (-5.08, 0.32, -3.75),
    ]]
    chamfer2_part_18_side = [part.faces().sort_by_distance(p)[0] for p in [
        (-5.08, 0.32, -2.335),
    ]]
    chamfer(chamfer2_part_18_edges, length=CHAMFER2_PART_18_SIZE, length2=CHAMFER2_PART_18_SIZE2, reference=chamfer2_part_18_side[0])

    # Chamfer2 part 19
    chamfer2_part_19_edges = [part.edges().sort_by_distance(p)[0] for p in [
        (-5.4, 0, -3.75),
    ]]
    chamfer2_part_19_side = [part.faces().sort_by_distance(p)[0] for p in [
        (-5.4, 0, -2.335),
    ]]
    chamfer(chamfer2_part_19_edges, length=CHAMFER2_PART_19_SIZE, length2=CHAMFER2_PART_19_SIZE2, reference=chamfer2_part_19_side[0])

    # Chamfer2 part 20
    chamfer2_part_20_edges = [part.edges().sort_by_distance(p)[0] for p in [
        (-5.4, 0, 7.25),
    ]]
    chamfer2_part_20_side = [part.faces().sort_by_distance(p)[0] for p in [
        (-5.4, 0, 4.25),
    ]]
    chamfer(chamfer2_part_20_edges, length=CHAMFER2_PART_20_SIZE, length2=CHAMFER2_PART_20_SIZE2, reference=chamfer2_part_20_side[0])

    # Chamfer2 part 21
    chamfer2_part_21_edges = [part.edges().sort_by_distance(p)[0] for p in [
        (-5.08, -0.32, -3.75),
    ]]
    chamfer2_part_21_side = [part.faces().sort_by_distance(p)[0] for p in [
        (-5.08, -0.32, -2.335),
    ]]
    chamfer(chamfer2_part_21_edges, length=CHAMFER2_PART_21_SIZE, length2=CHAMFER2_PART_21_SIZE2, reference=chamfer2_part_21_side[0])

    # Chamfer2 part 22
    chamfer2_part_22_edges = [part.edges().sort_by_distance(p)[0] for p in [
        (-4.76, 0, -3.75),
    ]]
    chamfer2_part_22_side = [part.faces().sort_by_distance(p)[0] for p in [
        (-4.76, 0, -2.335),
    ]]
    chamfer(chamfer2_part_22_edges, length=CHAMFER2_PART_22_SIZE, length2=CHAMFER2_PART_22_SIZE2, reference=chamfer2_part_22_side[0])

    # Chamfer2 part 23
    chamfer2_part_23_edges = [part.edges().sort_by_distance(p)[0] for p in [
        (-5.08, 0.32, 7.25),
    ]]
    chamfer2_part_23_side = [part.faces().sort_by_distance(p)[0] for p in [
        (-5.08, 0.32, 4.25),
    ]]
    chamfer(chamfer2_part_23_edges, length=CHAMFER2_PART_23_SIZE, length2=CHAMFER2_PART_23_SIZE2, reference=chamfer2_part_23_side[0])

    # Chamfer2 part 24
    chamfer2_part_24_edges = [part.edges().sort_by_distance(p)[0] for p in [
        (-4.76, 0, 7.25),
    ]]
    chamfer2_part_24_side = [part.faces().sort_by_distance(p)[0] for p in [
        (-4.76, 0, 4.25),
    ]]
    chamfer(chamfer2_part_24_edges, length=CHAMFER2_PART_24_SIZE, length2=CHAMFER2_PART_24_SIZE2, reference=chamfer2_part_24_side[0])

    # Chamfer2 part 25
    chamfer2_part_25_edges = [part.edges().sort_by_distance(p)[0] for p in [
        (2.54, -0.32, 7.25),
    ]]
    chamfer2_part_25_side = [part.faces().sort_by_distance(p)[0] for p in [
        (2.54, -0.32, 4.25),
    ]]
    chamfer(chamfer2_part_25_edges, length=CHAMFER2_PART_25_SIZE, length2=CHAMFER2_PART_25_SIZE2, reference=chamfer2_part_25_side[0])

    # Chamfer2 part 26
    chamfer2_part_26_edges = [part.edges().sort_by_distance(p)[0] for p in [
        (2.54, 0.32, -3.75),
    ]]
    chamfer2_part_26_side = [part.faces().sort_by_distance(p)[0] for p in [
        (2.54, 0.32, -2.335),
    ]]
    chamfer(chamfer2_part_26_edges, length=CHAMFER2_PART_26_SIZE, length2=CHAMFER2_PART_26_SIZE2, reference=chamfer2_part_26_side[0])

    # Chamfer2 part 27
    chamfer2_part_27_edges = [part.edges().sort_by_distance(p)[0] for p in [
        (2.22, 0, -3.75),
    ]]
    chamfer2_part_27_side = [part.faces().sort_by_distance(p)[0] for p in [
        (2.22, 0, -2.335),
    ]]
    chamfer(chamfer2_part_27_edges, length=CHAMFER2_PART_27_SIZE, length2=CHAMFER2_PART_27_SIZE2, reference=chamfer2_part_27_side[0])

    # Chamfer2 part 28
    chamfer2_part_28_edges = [part.edges().sort_by_distance(p)[0] for p in [
        (2.22, 0, 7.25),
    ]]
    chamfer2_part_28_side = [part.faces().sort_by_distance(p)[0] for p in [
        (2.22, 0, 4.25),
    ]]
    chamfer(chamfer2_part_28_edges, length=CHAMFER2_PART_28_SIZE, length2=CHAMFER2_PART_28_SIZE2, reference=chamfer2_part_28_side[0])

    # Chamfer2 part 29
    chamfer2_part_29_edges = [part.edges().sort_by_distance(p)[0] for p in [
        (2.54, -0.32, -3.75),
    ]]
    chamfer2_part_29_side = [part.faces().sort_by_distance(p)[0] for p in [
        (2.54, -0.32, -2.335),
    ]]
    chamfer(chamfer2_part_29_edges, length=CHAMFER2_PART_29_SIZE, length2=CHAMFER2_PART_29_SIZE2, reference=chamfer2_part_29_side[0])

    # Chamfer2 part 30
    chamfer2_part_30_edges = [part.edges().sort_by_distance(p)[0] for p in [
        (2.86, 0, -3.75),
    ]]
    chamfer2_part_30_side = [part.faces().sort_by_distance(p)[0] for p in [
        (2.86, 0, -2.335),
    ]]
    chamfer(chamfer2_part_30_edges, length=CHAMFER2_PART_30_SIZE, length2=CHAMFER2_PART_30_SIZE2, reference=chamfer2_part_30_side[0])

    # Chamfer2 part 31
    chamfer2_part_31_edges = [part.edges().sort_by_distance(p)[0] for p in [
        (2.54, 0.32, 7.25),
    ]]
    chamfer2_part_31_side = [part.faces().sort_by_distance(p)[0] for p in [
        (2.54, 0.32, 4.25),
    ]]
    chamfer(chamfer2_part_31_edges, length=CHAMFER2_PART_31_SIZE, length2=CHAMFER2_PART_31_SIZE2, reference=chamfer2_part_31_side[0])

    # Chamfer2 part 32
    chamfer2_part_32_edges = [part.edges().sort_by_distance(p)[0] for p in [
        (2.86, 0, 7.25),
    ]]
    chamfer2_part_32_side = [part.faces().sort_by_distance(p)[0] for p in [
        (2.86, 0, 4.25),
    ]]
    chamfer(chamfer2_part_32_edges, length=CHAMFER2_PART_32_SIZE, length2=CHAMFER2_PART_32_SIZE2, reference=chamfer2_part_32_side[0])

    # Chamfer2 part 33
    chamfer2_part_33_edges = [part.edges().sort_by_distance(p)[0] for p in [
        (5.08, -0.32, 7.25),
    ]]
    chamfer2_part_33_side = [part.faces().sort_by_distance(p)[0] for p in [
        (5.08, -0.32, 4.25),
    ]]
    chamfer(chamfer2_part_33_edges, length=CHAMFER2_PART_33_SIZE, length2=CHAMFER2_PART_33_SIZE2, reference=chamfer2_part_33_side[0])

    # Chamfer2 part 34
    chamfer2_part_34_edges = [part.edges().sort_by_distance(p)[0] for p in [
        (5.08, 0.32, -3.75),
    ]]
    chamfer2_part_34_side = [part.faces().sort_by_distance(p)[0] for p in [
        (5.08, 0.32, -2.335),
    ]]
    chamfer(chamfer2_part_34_edges, length=CHAMFER2_PART_34_SIZE, length2=CHAMFER2_PART_34_SIZE2, reference=chamfer2_part_34_side[0])

    # Chamfer2 part 35
    chamfer2_part_35_edges = [part.edges().sort_by_distance(p)[0] for p in [
        (4.76, 0, -3.75),
    ]]
    chamfer2_part_35_side = [part.faces().sort_by_distance(p)[0] for p in [
        (4.76, 0, -2.335),
    ]]
    chamfer(chamfer2_part_35_edges, length=CHAMFER2_PART_35_SIZE, length2=CHAMFER2_PART_35_SIZE2, reference=chamfer2_part_35_side[0])

    # Chamfer2 part 36
    chamfer2_part_36_edges = [part.edges().sort_by_distance(p)[0] for p in [
        (4.76, 0, 7.25),
    ]]
    chamfer2_part_36_side = [part.faces().sort_by_distance(p)[0] for p in [
        (4.76, 0, 4.25),
    ]]
    chamfer(chamfer2_part_36_edges, length=CHAMFER2_PART_36_SIZE, length2=CHAMFER2_PART_36_SIZE2, reference=chamfer2_part_36_side[0])

    # Chamfer2 part 37
    chamfer2_part_37_edges = [part.edges().sort_by_distance(p)[0] for p in [
        (5.08, -0.32, -3.75),
    ]]
    chamfer2_part_37_side = [part.faces().sort_by_distance(p)[0] for p in [
        (5.08, -0.32, -2.335),
    ]]
    chamfer(chamfer2_part_37_edges, length=CHAMFER2_PART_37_SIZE, length2=CHAMFER2_PART_37_SIZE2, reference=chamfer2_part_37_side[0])

    # Chamfer2 part 38
    chamfer2_part_38_edges = [part.edges().sort_by_distance(p)[0] for p in [
        (5.4, 0, -3.75),
    ]]
    chamfer2_part_38_side = [part.faces().sort_by_distance(p)[0] for p in [
        (5.4, 0, -2.335),
    ]]
    chamfer(chamfer2_part_38_edges, length=CHAMFER2_PART_38_SIZE, length2=CHAMFER2_PART_38_SIZE2, reference=chamfer2_part_38_side[0])

    # Chamfer2 part 39
    chamfer2_part_39_edges = [part.edges().sort_by_distance(p)[0] for p in [
        (5.08, 0.32, 7.25),
    ]]
    chamfer2_part_39_side = [part.faces().sort_by_distance(p)[0] for p in [
        (5.08, 0.32, 4.25),
    ]]
    chamfer(chamfer2_part_39_edges, length=CHAMFER2_PART_39_SIZE, length2=CHAMFER2_PART_39_SIZE2, reference=chamfer2_part_39_side[0])

    # Chamfer2 part 40
    chamfer2_part_40_edges = [part.edges().sort_by_distance(p)[0] for p in [
        (5.4, 0, 7.25),
    ]]
    chamfer2_part_40_side = [part.faces().sort_by_distance(p)[0] for p in [
        (5.4, 0, 4.25),
    ]]
    chamfer(chamfer2_part_40_edges, length=CHAMFER2_PART_40_SIZE, length2=CHAMFER2_PART_40_SIZE2, reference=chamfer2_part_40_side[0])


solid = part.part
